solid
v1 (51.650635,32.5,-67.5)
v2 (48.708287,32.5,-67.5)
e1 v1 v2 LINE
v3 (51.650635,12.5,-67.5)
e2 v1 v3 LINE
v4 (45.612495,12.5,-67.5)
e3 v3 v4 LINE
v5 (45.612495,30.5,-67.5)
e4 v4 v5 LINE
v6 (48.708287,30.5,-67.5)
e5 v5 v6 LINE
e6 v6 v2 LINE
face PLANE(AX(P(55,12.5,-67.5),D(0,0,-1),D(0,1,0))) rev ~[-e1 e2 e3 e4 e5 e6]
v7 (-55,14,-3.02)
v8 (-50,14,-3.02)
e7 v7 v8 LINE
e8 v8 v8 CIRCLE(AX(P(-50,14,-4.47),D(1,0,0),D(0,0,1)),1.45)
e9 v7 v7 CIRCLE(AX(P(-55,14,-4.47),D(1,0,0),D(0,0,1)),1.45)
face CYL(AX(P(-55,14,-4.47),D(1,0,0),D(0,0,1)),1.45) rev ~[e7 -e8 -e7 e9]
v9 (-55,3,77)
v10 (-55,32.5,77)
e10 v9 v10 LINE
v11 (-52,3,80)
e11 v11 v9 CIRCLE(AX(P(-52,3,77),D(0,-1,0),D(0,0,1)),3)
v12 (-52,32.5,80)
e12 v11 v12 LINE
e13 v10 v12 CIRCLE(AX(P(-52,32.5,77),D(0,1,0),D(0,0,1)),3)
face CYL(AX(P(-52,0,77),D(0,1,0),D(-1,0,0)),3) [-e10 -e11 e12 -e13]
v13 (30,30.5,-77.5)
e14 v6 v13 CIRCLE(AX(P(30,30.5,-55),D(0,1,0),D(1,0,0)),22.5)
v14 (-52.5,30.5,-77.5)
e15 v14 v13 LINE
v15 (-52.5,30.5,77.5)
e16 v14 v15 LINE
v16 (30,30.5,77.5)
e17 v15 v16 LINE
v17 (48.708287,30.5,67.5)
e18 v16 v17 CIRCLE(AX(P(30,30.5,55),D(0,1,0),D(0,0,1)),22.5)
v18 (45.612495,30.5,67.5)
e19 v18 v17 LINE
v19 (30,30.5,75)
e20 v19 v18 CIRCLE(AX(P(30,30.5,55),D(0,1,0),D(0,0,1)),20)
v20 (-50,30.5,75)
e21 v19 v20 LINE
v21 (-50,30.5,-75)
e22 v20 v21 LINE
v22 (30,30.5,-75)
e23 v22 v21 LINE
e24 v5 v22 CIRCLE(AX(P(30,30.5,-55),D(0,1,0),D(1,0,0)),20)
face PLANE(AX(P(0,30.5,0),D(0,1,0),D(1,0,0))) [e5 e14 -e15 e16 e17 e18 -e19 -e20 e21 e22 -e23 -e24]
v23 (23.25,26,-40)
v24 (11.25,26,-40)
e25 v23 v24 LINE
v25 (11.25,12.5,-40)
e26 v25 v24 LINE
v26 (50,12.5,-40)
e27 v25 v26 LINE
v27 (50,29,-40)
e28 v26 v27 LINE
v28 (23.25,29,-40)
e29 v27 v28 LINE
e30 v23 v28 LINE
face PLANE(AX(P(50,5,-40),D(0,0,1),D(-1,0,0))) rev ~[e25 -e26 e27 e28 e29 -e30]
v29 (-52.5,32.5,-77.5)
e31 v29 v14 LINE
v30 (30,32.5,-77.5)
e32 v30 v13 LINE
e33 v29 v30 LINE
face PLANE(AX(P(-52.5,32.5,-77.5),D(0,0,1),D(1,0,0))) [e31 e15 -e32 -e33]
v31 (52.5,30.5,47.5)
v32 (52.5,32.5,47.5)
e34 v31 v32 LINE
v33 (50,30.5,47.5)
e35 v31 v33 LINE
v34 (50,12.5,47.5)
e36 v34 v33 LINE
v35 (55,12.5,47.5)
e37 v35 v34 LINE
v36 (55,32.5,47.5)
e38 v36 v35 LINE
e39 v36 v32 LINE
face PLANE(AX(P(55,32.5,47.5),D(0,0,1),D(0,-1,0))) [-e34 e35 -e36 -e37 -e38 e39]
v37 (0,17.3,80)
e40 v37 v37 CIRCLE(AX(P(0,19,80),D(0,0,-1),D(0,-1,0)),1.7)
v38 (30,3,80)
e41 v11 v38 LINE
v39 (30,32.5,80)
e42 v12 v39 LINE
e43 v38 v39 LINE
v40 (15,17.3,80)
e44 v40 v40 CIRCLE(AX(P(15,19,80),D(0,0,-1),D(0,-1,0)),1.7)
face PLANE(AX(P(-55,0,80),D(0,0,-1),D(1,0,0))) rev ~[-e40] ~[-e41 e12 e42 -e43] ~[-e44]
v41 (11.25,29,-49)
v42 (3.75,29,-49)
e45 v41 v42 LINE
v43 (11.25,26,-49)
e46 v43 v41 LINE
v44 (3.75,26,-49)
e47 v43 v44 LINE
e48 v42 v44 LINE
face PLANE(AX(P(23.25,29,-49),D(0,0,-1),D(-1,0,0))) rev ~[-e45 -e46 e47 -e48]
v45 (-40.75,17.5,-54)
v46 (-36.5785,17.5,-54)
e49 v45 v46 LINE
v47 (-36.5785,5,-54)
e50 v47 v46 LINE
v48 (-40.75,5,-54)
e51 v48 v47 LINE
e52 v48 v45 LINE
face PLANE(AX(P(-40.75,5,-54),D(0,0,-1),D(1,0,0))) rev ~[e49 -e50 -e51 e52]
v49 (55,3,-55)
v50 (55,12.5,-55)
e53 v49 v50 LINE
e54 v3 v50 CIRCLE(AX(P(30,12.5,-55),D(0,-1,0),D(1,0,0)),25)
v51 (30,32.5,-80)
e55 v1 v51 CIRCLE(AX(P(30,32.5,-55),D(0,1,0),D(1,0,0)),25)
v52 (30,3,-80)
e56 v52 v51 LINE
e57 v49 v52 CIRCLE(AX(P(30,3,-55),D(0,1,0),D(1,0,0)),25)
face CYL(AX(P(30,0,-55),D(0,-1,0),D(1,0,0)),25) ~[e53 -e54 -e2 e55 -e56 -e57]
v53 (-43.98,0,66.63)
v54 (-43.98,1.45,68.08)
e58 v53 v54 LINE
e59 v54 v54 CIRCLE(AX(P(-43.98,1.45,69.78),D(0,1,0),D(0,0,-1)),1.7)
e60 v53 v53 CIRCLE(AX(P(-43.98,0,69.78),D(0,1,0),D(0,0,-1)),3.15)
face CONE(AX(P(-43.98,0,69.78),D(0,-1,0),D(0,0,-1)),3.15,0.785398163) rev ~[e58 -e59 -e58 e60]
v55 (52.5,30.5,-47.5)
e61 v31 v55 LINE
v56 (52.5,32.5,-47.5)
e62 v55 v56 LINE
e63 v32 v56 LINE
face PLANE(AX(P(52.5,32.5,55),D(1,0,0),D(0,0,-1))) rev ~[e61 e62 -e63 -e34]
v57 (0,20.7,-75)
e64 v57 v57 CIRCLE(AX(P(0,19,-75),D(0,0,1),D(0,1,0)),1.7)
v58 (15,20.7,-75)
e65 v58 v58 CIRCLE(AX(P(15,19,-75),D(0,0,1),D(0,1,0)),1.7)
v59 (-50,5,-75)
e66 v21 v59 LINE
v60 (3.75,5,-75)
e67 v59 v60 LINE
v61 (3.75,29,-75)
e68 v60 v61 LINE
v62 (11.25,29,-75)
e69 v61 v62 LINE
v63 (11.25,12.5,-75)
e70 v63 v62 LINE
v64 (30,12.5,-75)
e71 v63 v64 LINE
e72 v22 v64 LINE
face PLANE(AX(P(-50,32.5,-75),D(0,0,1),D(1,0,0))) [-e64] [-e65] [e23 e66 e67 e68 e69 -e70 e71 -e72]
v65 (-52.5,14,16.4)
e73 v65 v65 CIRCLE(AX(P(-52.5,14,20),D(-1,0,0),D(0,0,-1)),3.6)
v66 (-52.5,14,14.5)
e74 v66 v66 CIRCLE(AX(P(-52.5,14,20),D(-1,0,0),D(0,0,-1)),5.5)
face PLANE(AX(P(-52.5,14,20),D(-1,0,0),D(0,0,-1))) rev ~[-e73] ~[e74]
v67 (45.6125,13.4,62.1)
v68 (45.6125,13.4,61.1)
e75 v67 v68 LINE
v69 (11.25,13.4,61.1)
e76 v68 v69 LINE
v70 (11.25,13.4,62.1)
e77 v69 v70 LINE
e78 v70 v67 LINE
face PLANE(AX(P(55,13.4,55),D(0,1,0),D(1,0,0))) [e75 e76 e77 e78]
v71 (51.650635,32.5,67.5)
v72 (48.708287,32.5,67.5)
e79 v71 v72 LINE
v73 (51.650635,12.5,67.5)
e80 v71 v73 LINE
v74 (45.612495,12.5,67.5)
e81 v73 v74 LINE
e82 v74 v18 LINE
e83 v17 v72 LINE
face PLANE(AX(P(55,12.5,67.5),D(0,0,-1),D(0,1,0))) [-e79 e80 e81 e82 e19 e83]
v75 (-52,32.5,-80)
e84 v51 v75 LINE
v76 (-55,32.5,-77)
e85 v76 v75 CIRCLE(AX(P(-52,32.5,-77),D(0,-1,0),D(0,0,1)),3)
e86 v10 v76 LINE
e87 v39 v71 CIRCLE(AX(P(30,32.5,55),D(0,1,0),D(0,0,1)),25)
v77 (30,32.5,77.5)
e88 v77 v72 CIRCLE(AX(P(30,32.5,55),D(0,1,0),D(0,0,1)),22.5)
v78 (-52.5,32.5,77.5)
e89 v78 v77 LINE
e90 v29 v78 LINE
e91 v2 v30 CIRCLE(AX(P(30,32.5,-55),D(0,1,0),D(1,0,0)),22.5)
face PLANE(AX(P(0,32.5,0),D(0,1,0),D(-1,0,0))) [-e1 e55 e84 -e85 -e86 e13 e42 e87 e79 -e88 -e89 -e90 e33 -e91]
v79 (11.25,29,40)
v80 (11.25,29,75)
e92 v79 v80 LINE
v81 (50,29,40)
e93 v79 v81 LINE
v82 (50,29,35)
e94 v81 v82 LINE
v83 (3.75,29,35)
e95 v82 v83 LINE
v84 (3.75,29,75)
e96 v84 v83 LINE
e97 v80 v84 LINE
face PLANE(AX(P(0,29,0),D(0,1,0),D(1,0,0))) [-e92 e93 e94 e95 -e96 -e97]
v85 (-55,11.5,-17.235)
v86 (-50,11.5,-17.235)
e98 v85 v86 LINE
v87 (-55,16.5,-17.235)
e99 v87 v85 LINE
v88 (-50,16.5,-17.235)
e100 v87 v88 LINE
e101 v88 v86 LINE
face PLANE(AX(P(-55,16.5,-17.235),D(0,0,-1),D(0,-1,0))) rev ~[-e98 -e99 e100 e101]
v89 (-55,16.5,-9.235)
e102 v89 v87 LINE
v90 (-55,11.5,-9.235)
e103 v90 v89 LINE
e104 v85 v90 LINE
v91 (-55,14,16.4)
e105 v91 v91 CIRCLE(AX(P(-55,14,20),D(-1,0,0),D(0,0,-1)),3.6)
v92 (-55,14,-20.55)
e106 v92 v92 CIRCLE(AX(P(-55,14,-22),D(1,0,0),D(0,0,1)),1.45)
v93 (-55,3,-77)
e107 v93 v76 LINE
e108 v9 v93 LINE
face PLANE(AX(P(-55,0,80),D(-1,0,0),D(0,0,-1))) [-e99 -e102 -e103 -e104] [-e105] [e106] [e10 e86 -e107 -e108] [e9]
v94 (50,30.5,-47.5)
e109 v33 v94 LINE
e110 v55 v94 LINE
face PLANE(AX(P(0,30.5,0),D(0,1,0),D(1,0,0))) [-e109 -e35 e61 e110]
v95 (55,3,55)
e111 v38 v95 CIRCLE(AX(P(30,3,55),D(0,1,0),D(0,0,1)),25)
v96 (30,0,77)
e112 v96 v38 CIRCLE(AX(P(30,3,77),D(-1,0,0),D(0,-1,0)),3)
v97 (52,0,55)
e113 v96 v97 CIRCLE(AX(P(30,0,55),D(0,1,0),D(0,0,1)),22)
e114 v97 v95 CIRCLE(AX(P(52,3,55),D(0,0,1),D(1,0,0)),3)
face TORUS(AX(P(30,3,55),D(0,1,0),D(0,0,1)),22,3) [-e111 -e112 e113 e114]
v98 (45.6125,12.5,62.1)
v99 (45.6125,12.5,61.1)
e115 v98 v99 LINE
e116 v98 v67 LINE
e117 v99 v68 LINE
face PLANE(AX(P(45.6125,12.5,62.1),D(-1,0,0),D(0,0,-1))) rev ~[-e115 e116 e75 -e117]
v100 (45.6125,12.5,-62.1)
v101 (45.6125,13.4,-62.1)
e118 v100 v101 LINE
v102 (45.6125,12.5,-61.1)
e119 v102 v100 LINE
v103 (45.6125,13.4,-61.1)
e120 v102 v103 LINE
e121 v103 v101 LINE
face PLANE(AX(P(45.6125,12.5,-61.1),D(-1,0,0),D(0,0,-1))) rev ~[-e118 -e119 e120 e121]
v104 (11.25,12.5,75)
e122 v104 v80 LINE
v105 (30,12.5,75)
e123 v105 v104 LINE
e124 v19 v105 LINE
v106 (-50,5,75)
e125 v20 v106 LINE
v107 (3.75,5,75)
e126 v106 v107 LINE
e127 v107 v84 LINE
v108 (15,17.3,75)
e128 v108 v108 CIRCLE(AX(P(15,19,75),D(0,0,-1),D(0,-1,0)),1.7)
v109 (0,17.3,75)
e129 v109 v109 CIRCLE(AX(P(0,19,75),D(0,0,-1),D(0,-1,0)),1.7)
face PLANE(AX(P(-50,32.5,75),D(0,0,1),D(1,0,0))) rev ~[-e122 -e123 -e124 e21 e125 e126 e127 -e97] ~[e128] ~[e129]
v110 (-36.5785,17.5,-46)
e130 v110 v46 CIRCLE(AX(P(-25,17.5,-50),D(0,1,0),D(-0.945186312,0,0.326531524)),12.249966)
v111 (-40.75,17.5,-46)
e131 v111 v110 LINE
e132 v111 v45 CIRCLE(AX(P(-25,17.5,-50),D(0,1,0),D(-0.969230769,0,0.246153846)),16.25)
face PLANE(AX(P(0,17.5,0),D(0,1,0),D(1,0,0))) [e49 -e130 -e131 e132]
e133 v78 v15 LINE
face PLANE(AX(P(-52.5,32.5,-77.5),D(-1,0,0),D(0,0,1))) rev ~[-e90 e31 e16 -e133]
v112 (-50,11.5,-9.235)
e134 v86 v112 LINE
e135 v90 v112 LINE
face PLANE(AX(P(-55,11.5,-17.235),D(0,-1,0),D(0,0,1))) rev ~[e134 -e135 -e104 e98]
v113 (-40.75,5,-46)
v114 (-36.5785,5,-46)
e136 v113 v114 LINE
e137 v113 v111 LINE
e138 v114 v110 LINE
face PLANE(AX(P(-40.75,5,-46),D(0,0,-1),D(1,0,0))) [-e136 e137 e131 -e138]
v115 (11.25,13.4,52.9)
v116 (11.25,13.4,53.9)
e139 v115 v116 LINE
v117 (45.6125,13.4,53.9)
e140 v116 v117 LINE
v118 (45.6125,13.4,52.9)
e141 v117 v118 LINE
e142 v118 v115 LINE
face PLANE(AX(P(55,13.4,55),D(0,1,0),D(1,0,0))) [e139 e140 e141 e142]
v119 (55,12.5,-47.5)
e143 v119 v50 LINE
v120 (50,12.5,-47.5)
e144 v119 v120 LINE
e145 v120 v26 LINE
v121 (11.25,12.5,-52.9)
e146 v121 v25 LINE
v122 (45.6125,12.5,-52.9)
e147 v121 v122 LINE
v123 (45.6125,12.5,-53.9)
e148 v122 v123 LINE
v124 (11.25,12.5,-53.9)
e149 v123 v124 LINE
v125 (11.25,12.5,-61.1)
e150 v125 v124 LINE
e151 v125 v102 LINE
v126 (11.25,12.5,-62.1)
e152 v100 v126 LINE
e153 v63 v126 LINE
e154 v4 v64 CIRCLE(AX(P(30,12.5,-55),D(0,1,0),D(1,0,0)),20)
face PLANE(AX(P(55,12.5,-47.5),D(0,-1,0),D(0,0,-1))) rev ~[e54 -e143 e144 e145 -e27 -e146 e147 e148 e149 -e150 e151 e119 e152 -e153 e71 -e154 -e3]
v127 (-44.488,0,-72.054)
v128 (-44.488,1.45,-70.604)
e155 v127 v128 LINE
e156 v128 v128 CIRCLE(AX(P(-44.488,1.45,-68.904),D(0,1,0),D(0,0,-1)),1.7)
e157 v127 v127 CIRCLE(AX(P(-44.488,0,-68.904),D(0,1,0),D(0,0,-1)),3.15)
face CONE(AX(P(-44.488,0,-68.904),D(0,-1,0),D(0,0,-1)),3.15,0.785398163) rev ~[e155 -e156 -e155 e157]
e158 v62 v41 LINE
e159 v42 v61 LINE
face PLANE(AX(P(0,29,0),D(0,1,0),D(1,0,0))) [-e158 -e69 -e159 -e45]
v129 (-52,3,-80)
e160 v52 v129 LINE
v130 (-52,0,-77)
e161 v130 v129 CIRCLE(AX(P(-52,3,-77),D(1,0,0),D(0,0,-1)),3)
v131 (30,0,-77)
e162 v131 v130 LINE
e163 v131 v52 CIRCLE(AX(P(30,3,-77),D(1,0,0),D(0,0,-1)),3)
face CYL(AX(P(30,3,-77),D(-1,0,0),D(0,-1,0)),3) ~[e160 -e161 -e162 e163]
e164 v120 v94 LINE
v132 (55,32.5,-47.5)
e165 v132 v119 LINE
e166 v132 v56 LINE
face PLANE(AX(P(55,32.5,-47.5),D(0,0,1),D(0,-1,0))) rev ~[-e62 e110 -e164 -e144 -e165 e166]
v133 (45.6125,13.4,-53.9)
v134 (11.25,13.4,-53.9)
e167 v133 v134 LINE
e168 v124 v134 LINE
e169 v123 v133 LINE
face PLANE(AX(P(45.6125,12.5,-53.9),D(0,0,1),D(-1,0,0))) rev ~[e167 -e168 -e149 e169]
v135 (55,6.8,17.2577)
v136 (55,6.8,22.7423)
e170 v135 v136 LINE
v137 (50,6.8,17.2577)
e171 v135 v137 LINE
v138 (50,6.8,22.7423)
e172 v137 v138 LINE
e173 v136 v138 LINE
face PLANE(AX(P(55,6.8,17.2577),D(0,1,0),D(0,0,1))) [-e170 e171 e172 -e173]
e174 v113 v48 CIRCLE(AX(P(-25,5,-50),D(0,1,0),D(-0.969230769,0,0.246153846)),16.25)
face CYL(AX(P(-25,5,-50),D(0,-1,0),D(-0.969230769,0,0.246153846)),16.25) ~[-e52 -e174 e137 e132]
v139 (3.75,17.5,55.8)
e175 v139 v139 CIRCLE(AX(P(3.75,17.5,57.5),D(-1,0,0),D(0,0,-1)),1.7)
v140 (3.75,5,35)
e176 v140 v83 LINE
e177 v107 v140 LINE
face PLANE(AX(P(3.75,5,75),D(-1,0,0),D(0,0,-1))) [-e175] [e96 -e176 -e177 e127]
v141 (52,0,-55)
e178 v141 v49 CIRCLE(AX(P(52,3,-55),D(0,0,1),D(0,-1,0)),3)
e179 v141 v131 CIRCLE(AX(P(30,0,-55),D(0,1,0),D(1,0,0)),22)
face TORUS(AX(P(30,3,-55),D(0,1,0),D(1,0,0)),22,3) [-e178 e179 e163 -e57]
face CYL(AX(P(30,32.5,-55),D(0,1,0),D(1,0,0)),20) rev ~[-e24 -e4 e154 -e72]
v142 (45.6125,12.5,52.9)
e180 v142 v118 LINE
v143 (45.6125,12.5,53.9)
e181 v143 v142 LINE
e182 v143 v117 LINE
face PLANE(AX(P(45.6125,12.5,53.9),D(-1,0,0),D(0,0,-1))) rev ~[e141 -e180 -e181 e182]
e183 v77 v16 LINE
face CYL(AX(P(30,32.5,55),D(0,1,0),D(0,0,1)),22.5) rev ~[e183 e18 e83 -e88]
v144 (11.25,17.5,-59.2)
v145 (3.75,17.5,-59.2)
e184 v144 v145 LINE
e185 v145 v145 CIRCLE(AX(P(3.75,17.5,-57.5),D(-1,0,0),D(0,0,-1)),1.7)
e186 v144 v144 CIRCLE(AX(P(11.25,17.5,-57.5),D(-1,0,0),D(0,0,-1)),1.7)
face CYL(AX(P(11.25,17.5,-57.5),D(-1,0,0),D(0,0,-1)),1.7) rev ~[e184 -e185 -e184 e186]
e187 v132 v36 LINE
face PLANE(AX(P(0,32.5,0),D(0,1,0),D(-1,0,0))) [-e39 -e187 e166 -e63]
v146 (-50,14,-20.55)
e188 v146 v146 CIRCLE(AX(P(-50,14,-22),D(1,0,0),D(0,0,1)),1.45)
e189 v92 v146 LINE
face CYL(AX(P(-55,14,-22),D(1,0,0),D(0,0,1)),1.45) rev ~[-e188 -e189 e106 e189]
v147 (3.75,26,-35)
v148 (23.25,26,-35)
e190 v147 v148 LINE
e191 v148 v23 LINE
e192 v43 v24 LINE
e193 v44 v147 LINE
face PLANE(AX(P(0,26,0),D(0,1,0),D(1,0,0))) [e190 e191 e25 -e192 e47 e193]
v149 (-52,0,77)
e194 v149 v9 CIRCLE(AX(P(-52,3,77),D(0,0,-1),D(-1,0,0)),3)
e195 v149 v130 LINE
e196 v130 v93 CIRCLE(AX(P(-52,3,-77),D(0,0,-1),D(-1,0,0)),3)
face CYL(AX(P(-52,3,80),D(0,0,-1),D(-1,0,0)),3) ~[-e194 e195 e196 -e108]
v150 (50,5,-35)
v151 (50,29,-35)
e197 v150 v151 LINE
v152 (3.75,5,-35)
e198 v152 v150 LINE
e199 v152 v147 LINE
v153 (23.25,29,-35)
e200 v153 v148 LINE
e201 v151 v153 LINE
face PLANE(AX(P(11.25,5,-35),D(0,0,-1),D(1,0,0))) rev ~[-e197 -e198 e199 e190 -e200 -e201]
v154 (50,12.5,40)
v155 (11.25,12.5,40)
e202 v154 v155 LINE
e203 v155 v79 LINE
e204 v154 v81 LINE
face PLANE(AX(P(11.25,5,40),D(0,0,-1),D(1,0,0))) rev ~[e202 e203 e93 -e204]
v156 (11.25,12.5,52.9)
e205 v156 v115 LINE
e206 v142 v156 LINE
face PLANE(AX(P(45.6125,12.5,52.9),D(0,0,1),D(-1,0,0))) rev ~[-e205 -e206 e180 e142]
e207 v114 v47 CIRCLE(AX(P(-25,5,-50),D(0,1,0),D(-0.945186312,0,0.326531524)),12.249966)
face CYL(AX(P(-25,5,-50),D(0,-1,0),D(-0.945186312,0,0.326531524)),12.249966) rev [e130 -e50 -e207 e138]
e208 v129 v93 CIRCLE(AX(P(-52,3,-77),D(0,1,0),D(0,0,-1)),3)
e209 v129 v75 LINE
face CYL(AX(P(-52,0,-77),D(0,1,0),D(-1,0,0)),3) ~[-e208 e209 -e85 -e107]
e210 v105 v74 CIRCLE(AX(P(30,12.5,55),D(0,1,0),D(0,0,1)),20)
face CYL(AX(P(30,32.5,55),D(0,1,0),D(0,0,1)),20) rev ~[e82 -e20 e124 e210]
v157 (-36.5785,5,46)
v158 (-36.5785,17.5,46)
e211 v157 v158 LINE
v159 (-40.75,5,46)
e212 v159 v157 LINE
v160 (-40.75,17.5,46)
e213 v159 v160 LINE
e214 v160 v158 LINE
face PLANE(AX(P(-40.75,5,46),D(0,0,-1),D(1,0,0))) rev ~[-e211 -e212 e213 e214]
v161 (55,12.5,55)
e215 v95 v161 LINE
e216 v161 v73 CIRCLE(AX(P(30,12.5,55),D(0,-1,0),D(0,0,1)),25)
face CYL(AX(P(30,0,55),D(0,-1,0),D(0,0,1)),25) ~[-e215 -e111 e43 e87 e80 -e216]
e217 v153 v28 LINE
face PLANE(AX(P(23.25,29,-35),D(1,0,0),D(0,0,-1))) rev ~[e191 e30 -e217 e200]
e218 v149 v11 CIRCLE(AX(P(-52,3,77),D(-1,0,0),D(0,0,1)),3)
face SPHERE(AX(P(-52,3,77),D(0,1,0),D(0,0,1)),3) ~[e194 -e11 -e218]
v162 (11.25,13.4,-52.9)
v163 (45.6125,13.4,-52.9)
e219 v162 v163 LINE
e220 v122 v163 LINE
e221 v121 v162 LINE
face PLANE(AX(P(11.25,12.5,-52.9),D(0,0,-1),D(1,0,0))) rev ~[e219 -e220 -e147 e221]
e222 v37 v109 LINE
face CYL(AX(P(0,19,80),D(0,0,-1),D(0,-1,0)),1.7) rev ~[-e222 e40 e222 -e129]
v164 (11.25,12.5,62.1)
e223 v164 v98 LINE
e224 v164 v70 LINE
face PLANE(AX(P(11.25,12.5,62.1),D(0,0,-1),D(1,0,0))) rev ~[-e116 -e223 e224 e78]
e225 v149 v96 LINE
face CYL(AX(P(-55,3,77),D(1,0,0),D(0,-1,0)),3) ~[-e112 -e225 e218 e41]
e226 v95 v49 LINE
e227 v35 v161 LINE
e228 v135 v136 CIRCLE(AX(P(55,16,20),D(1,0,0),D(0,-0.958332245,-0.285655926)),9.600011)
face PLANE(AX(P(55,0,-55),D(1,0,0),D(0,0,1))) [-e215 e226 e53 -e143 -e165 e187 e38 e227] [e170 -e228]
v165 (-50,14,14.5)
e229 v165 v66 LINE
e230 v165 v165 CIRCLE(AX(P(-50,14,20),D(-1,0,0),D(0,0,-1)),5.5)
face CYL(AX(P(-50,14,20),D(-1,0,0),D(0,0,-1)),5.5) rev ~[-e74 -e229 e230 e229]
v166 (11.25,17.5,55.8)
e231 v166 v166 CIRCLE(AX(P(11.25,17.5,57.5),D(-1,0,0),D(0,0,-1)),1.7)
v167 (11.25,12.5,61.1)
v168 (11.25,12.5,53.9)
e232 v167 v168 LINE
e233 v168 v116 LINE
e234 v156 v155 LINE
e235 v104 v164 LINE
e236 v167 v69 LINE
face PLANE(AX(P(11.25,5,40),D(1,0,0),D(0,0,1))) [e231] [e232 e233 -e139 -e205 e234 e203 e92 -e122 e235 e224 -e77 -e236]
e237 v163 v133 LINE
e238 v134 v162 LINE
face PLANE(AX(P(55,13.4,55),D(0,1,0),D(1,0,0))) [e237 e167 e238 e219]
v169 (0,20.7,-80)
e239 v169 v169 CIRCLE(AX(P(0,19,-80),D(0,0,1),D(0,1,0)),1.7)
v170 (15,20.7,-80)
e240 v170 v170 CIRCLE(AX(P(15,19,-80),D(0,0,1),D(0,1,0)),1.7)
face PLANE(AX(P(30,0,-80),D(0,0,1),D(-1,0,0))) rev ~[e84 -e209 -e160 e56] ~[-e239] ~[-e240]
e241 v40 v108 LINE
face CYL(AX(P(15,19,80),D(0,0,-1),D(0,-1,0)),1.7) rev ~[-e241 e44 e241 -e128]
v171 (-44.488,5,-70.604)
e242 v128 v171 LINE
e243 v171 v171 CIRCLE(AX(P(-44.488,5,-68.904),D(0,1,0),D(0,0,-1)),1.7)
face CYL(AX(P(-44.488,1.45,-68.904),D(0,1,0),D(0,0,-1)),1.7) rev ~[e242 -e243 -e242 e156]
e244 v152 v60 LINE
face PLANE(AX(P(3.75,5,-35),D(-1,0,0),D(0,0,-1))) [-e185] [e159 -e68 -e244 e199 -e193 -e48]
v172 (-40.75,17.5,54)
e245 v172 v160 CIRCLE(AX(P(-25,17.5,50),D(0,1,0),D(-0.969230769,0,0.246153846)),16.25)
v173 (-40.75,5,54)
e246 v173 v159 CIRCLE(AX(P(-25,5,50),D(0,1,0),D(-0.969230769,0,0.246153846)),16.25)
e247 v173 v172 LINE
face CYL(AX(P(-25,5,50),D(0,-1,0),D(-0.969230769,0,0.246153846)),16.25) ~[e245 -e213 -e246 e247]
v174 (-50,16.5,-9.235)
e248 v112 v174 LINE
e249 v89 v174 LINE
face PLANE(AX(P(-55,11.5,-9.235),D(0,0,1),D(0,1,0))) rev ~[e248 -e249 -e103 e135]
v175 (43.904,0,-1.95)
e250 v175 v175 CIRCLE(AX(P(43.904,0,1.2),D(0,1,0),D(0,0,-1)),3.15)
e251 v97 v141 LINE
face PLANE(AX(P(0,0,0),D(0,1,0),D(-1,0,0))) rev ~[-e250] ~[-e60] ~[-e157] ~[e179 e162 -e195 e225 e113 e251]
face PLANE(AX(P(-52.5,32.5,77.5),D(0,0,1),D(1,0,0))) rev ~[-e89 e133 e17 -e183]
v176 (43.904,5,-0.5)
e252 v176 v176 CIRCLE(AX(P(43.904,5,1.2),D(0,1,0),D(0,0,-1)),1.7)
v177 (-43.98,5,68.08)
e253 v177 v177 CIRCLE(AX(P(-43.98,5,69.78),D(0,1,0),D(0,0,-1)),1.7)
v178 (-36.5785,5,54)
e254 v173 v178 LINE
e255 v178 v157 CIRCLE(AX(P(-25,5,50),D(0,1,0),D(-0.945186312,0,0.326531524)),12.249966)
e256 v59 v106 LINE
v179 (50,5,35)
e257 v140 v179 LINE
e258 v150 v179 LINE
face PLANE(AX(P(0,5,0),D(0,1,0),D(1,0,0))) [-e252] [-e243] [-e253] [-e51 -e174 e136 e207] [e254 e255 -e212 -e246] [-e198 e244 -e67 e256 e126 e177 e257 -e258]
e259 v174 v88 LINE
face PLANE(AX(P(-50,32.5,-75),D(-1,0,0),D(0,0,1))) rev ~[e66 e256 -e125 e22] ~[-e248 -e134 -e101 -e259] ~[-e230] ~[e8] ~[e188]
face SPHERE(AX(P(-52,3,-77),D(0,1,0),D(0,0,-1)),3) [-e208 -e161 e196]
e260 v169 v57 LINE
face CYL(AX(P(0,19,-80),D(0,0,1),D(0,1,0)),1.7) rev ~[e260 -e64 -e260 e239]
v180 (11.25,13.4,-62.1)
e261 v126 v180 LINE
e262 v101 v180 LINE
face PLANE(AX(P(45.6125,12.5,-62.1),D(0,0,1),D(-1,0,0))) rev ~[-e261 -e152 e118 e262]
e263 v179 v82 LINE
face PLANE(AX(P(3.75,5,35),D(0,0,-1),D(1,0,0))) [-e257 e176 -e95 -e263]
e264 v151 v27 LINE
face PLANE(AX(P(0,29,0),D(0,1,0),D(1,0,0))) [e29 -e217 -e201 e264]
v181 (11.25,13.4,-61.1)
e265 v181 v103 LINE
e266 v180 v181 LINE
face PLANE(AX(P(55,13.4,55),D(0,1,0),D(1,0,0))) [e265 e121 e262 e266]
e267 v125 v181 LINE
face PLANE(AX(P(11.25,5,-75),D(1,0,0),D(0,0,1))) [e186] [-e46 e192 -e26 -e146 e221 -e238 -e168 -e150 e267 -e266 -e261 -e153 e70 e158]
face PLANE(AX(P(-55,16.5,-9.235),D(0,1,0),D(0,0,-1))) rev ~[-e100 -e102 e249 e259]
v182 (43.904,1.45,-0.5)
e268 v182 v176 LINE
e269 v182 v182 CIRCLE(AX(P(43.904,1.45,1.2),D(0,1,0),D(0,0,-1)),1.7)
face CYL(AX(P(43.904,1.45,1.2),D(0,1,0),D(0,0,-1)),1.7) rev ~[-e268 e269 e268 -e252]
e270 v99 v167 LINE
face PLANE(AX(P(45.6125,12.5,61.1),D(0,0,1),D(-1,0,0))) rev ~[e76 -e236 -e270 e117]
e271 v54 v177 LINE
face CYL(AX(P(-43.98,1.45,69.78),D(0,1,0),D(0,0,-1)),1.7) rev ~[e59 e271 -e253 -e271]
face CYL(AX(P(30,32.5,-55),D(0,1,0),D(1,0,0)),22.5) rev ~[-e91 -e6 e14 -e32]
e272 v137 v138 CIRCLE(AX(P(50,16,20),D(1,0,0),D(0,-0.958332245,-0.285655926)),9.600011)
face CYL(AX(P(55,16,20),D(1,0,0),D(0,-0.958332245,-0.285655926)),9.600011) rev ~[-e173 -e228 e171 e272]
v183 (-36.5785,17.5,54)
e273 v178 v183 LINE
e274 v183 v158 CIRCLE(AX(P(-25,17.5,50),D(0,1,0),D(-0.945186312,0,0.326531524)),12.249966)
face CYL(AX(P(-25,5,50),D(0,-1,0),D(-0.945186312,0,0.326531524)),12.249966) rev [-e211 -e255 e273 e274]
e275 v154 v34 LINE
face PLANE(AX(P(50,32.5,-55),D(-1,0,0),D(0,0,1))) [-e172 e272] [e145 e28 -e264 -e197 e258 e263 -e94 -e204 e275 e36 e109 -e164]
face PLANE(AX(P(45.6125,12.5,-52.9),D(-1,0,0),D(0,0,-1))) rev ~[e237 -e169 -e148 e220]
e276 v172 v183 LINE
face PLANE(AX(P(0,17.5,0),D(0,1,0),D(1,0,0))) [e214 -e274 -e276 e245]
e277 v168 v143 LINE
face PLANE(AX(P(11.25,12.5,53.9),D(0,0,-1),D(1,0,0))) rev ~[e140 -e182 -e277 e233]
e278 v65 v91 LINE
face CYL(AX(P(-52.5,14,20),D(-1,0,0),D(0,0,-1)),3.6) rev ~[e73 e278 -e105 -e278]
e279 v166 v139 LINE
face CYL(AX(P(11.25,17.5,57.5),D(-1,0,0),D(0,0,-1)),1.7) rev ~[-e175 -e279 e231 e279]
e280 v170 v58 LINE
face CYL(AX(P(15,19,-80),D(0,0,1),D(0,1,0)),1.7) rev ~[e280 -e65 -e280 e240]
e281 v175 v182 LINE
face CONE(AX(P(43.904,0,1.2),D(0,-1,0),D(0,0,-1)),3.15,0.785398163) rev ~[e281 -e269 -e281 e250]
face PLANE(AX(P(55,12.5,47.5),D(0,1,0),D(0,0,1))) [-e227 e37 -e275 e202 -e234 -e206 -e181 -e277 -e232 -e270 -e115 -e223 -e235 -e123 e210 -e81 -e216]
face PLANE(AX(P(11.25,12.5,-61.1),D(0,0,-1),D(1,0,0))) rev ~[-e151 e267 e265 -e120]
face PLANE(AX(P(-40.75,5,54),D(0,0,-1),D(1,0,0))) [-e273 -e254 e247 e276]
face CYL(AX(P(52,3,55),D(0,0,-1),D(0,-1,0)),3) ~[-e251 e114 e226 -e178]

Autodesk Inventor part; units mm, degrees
ref_plane "YZ Plane" through (0, 0, 0) normal (1, 0, 0) x (0, 1, 0)
ref_plane "XZ Plane" through (0, 0, 0) normal (0, 1, 0) x (-1, 0, 0)
ref_plane "XY Plane" through (0, 0, 0) normal (0, 0, 1) x (1, 0, 0)
sketch "Esquisse1" plane through (0, 0, 0) normal (0, 1, 0) x (-1, 0, 0)
  line L0 (55, 80) -> (55, -80)
  line L1 (-55, -80) -> (-55, 80)
  line L2 (-55, 80) -> (55, -80) construction
  line L3 (55, 80) -> (-55, -80) construction
  line L4 (0, 0) -> (-55, 0) construction
  arc A0 (-55, -55) -> (-30, -80) centre (-30, -55) ccw
  line L5 (-30, -80) -> (55, -80)
  line L6 (-30, -80) -> (-30, -55) construction
  line L7 (55, 80) -> (-30, 80)
  arc A1 (-30, 80) -> (-55, 55) centre (-30, 55) ccw
  line L8 (-30, 55) -> (-30, 80) construction
  dimension "d0" = 160
  dimension "d1" = 110
  dimension "d126" = 25
  dimension "d127" = 25
extrude "Extrusion1" add sketch "Esquisse1" along normal blind 32.5
sketch "Esquisse2" plane through (0, 32.5, 0) normal (0, 1, 0) x (1, 0, 0)
  line L0 (-50, 75) -> (-50, -75)
  line L1 (-55, 80) -> (-55, -80) projected
  line L2 (30, 80) -> (-55, 80) projected
  line L3 (-50, -75) -> (30, -75)
  line L4 (30, -75) -> (30, -80) construction
  line L5 (-55, -80) -> (30, -80) construction
  line L6 (-50, 75) -> (30, 75)
  line L7 (30, 75) -> (30, 80) construction
  arc A0 (50, 55) -> (30, 75) centre (30, 55) ccw
  line L8 (30, 75) -> (30, 55) construction
  arc A1 (55, 55) -> (30, 80) centre (30, 55) ccw construction
  line L9 (50, 55) -> (50, -55)
  line L10 (55, 55) -> (50, 55) construction
  line L11 (50, -55) -> (55, -55) construction
  arc A2 (30, -75) -> (50, -55) centre (30, -55) ccw
  line L12 (55, -55) -> (55, 55) construction
  point P0 (0, 0)
  dimension "d67" = 5
  dimension "d131" = 5
extrude "Extrusion2" cut sketch "Esquisse2" against normal blind 27.5
sketch "Esquisse6" plane through (0, 5, 0) normal (0, 1, 0) x (1, 0, 0)
  line L0 (50, 40) -> (11.25, 40)
  line L1 (11.25, 40) -> (11.25, 35)
  line L2 (11.25, 35) -> (50, 35)
  line L3 (50, 35) -> (50, 40)
  line L4 (11.25, 35) -> (3.75, 35)
  line L5 (3.75, 35) -> (3.75, 75)
  line L6 (3.75, 75) -> (11.25, 75)
  line L7 (11.25, 75) -> (11.25, 35)
  line L8 (11.25, -75) -> (3.75, -75)
  line L9 (3.75, -75) -> (3.75, -35)
  line L10 (3.75, -35) -> (11.25, -35)
  line L11 (11.25, -35) -> (11.25, -75)
  line L12 (50, -35) -> (11.25, -35)
  line L13 (11.25, -35) -> (11.25, -40)
  line L14 (11.25, -40) -> (50, -40)
  line L15 (50, -40) -> (50, -35)
  line L16 (11.25, -75) -> (80.7095, -75) construction
  line L17 (50, -40) -> (50, -93.5027) construction
  line L18 (30, -75) -> (-50, -75) construction
  line L19 (50, 55) -> (50, -55) construction
  line L20 (-50, 75) -> (30, 75) construction
  point P0 (0, 0)
  point P1 (7.5, -35)
  dimension "d44" = 5
  dimension "d45" = 7.5
  dimension "d48" = 5
  dimension "d50" = 7.5
  dimension "d132" = 35
  dimension "d133" = 38.75
  dimension "d134" = 38.75
  dimension "d135" = 35
extrude "Extrusion4" add sketch "Esquisse6" along normal blind 24
sketch "Esquisse11" plane through (55, 0, 55) normal (1, 0, 0) x (0, 0, -1)
  line L0 (-12.5, 32.5) -> (7.5, 32.5)
  line L1 (7.5, 32.5) -> (7.5, 12.5)
  line L2 (7.5, 12.5) -> (-12.5, 12.5)
  line L3 (-12.5, 12.5) -> (-12.5, 32.5)
  line L4 (122.5, 32.5) -> (102.5, 32.5)
  line L5 (102.5, 32.5) -> (102.5, 12.5)
  line L6 (102.5, 12.5) -> (122.5, 12.5)
  line L7 (122.5, 12.5) -> (122.5, 32.5)
  line L8 (0, 0) -> (110, 0) projected
  line L9 (0, 32.5) -> (110, 32.5) projected
  line L10 (135, 0) -> (110, 0) projected
  line L11 (135, 32.5) -> (110, 32.5) projected
  line L12 (-25, 0) -> (-25, 32.5) projected
  line L13 (135, 0) -> (135, 32.5) projected
  line L14 (71.6904, 12.5) -> (52.7334, 12.5) construction
  dimension "d138" = 20
  dimension "d139" = 20
  dimension "d140" = 12.5
  dimension "d141" = 12.5
  dimension "d154" = 12.5
extrude "Extrusion6" cut sketch "Esquisse11" against normal blind 20
sketch "Esquisse16" plane through (11.25, 5, 75) normal (1, 0, 0) x (0, 0, -1)
  line L0 (17.5, 12.5) -> (7.5, 12.5) construction
  line L1 (17.5, 12.5) -> (27.5, 12.5) construction
  line L2 (130, 0) -> (122.5, 0) construction
  line L3 (7.5, 7.5) -> (7.5, 27.5) projected
  line L4 (27.5, 27.5) -> (27.5, 7.5) projected
  line L5 (7.5, 6) -> (20, 6) projected
  line L6 (27.5, 7.5) -> (20, 7.5) projected
  point P0 (75, -5)
  point P1 (130, 6)
  point P2 (122.5, 6)
  point P3 (27.5, 6)
  point P4 (27.5, -5)
  dimension "d174" = 5
hole "Perçage6" at (11.25, 17.5, 57.5) direction (-1, 0, 0) diameter 3.4 depth 10
sketch "Esquisse17" plane through (11.25, 5, -40) normal (1, 0, 0) x (0, 0, -1)
  line L0 (27.5, 27.5) -> (27.5, 7.5) projected
  line L1 (7.5, 7.5) -> (7.5, 27.5) projected
  line L2 (5.8848, 12.5) -> (-4.3187, 12.5) construction
  line L3 (15, 7.5) -> (15, 7.5) projected
  line L4 (17.5, 12.5) -> (7.5, 12.5) construction
  line L5 (17.5, 12.5) -> (27.5, 12.5) construction
  point P0 (-40, -5)
  point P1 (7.5, 6)
  point P2 (-87.5, 6)
  point P3 (27.5, -5)
  point P4 (7.5, -5)
  dimension "d155" = 5
hole "Perçage7" at (11.25, 17.5, -57.5) direction (-1, 0, 0) diameter 3.4 depth 10
sketch "Esquisse20" plane through (0, 32.5, 0) normal (0, 1, 0) x (1, 0, 0)
  line L0 (-52.5, 77.5) -> (-52.5, -77.5)
  line L1 (-52.5, -77.5) -> (30, -77.5)
  arc A0 (30, -77.5) -> (52.5, -55) centre (30, -55) ccw
  line L2 (52.5, -55) -> (52.5, 55)
  arc A1 (52.5, 55) -> (30, 77.5) centre (30, 55) ccw
  line L3 (-52.5, 77.5) -> (30, 77.5)
  line L4 (30, 80) -> (30, 75) construction
  arc A2 (45.6125, 67.5) -> (30, 75) centre (30, 55) ccw construction
  line L5 (30, -80) -> (30, -75) construction
  arc A3 (30, -80) -> (51.6506, -67.5) centre (30, -55) ccw construction
  arc A4 (51.6506, 67.5) -> (30, 80) centre (30, 55) ccw construction
  line L6 (-50, 0) -> (-55, 0) construction
  line L7 (-55, 0) -> (-50, 0) construction
  line L8 (-50, -75) -> (-50, 75) construction
  line L9 (-55, 80) -> (-55, -80) construction
  line L10 (30, 75) -> (-50, 75)
  line L11 (-50, -75) -> (30, -75)
  arc A5 (50, 55) -> (30, 75) centre (30, 55) ccw
  arc A6 (30, -75) -> (50, -55) centre (30, -55) ccw
  line L12 (50, -55) -> (50, 55)
  point P0 (0, 0)
  point P1 (-52.5, 0)
extrude "Extrusion12" cut sketch "Esquisse20" against normal blind 2
sketch "Esquisse22" plane through (0, 5, 0) normal (0, 1, 0) x (1, 0, 0)
  line L0 (11.25, -75) -> (11.25, -40) projected
  line L1 (11.25, -40) -> (11.25, -75) projected
  line L2 (30, -75) -> (11.25, -75) projected
  arc A0 (30, -75) -> (50, -55) centre (30, -55) ccw projected
  line L3 (50, -40) -> (50, -55) projected
  line L4 (50, -40) -> (11.25, -40) projected
  line L5 (11.25, 75) -> (11.25, 40) projected
  line L6 (11.25, 40) -> (50, 40) projected
  line L7 (50, 55) -> (50, 40) projected
  arc A1 (50, 55) -> (30, 75) centre (30, 55) ccw projected
  line L8 (11.25, 75) -> (30, 75) projected
  point P0 (0, 0)
extrude "Extrusion14" add sketch "Esquisse22" along normal blind 7.5
sketch "Esquisse24" plane through (55, 12.5, 55) normal (0, 1, 0) x (1, 0, 0)
  line L0 (-9.3875, -7.5596) -> (-9.3875, 12.2233) construction
  line L1 (-43.75, -7.1) -> (-9.3875, -7.1)
  line L2 (-9.3875, -7.1) -> (-9.3875, -6.1)
  line L3 (-9.3875, -6.1) -> (-43.75, -6.1)
  line L4 (-43.75, -6.1) -> (-43.75, -7.1)
  line L5 (-43.75, 1.1) -> (-9.3875, 1.1)
  line L6 (-9.3875, 1.1) -> (-9.3875, 2.1)
  line L7 (-9.3875, 2.1) -> (-43.75, 2.1)
  line L8 (-43.75, 2.1) -> (-43.75, 1.1)
  line L9 (-43.75, -20) -> (-43.75, 15) construction
  line L10 (-43.75, 15) -> (-5, 15) projected
  line L11 (-43.75, 107.9) -> (-9.3875, 107.9)
  line L12 (-9.3875, 107.9) -> (-9.3875, 108.9)
  line L13 (-9.3875, 108.9) -> (-43.75, 108.9)
  line L14 (-43.75, 108.9) -> (-43.75, 107.9)
  line L15 (-43.75, 116.1) -> (-9.3875, 116.1)
  line L16 (-9.3875, 116.1) -> (-9.3875, 117.1)
  line L17 (-9.3875, 117.1) -> (-43.75, 117.1)
  line L18 (-43.75, 117.1) -> (-43.75, 116.1)
  line L19 (-5, 95) -> (-43.75, 95) projected
  line L20 (-43.75, 95) -> (-43.75, 130) projected
  point P0 (-9.3875, -12.5)
  point P1 (-43.75, 1.6)
  point P2 (-43.75, -6.6)
  point P3 (-9.3875, 1.6)
  point P4 (-9.3875, -6.6)
  point P5 (-9.3875, 108.4)
  point P6 (-9.3875, 116.6)
  point P7 (-43.75, 108.4)
  dimension "d160" = 1
  dimension "d161" = 1
  dimension "d162" = 7.2
  dimension "d163" = 12.9
  dimension "d164" = 1
  dimension "d165" = 1
  dimension "d166" = 7.2
  dimension "d167" = 12.9
extrude "Extrusion15" add sketch "Esquisse24" along normal blind 0.9
sketch "Esquisse25" plane through (0, 29, 0) normal (0, 1, 0) x (1, 0, 0)
  line L0 (3.75, 35) -> (23.25, 35)
  line L1 (23.25, 35) -> (23.25, 49)
  line L2 (23.25, 49) -> (3.75, 49)
  line L3 (3.75, 49) -> (3.75, 35)
  line L4 (3.75, 75) -> (3.75, 35) construction
  line L5 (3.75, 35) -> (50, 35) construction
  point P0 (0, 0)
  dimension "d170" = 14
  dimension "d171" = 19.5
extrude "Extrusion16" cut sketch "Esquisse25" against normal blind 3
sketch "Esquisse26" plane through (0, 0, 0) normal (0, -1, 0) x (1, 0, 0)
  line L0 (50, 47.5) -> (50, -47.5) projected
  line L1 (30, -75) -> (-50, -75) projected
  point P0 (0, 0)
  point P1 (43.904, 1.2)
  dimension "d196" = 6.096
  dimension "d197" = 76.2
hole "Perçage8" at (43.904, 0, 1.2) direction (0, 1, 0) diameter 3.4 end through all countersink diameter 6.3 countersink angle 90
sketch "Esquisse27" plane through (0, 0, 0) normal (0, -1, 0) x (1, 0, 0)
  line L0 (-50, -75) -> (3.75, -75) projected
  line L1 (50, -35) -> (50, 35) projected
  point P0 (0, 0)
  point P1 (-43.98, 69.78)
  dimension "d198" = 144.78
  dimension "d199" = 93.98
hole "Perçage9" at (-43.98, 0, 69.78) direction (0, 1, 0) diameter 3.4 end through all countersink diameter 6.3 countersink angle 90
sketch "Esquisse28" plane through (0, 0, 0) normal (0, -1, 0) x (1, 0, 0)
  line L0 (-50, -75) -> (3.75, -75) projected
  line L1 (-50, 75) -> (-50, -75) projected
  line L2 (55, 55) -> (55, -55) projected
  line L3 (50, 47.5) -> (50, -47.5) projected
  point P0 (0, 0)
  point P1 (-44.488, -68.904)
  dimension "d200" = 6.096
  dimension "d203" = 94.488
hole "Perçage10" at (-44.488, 0, -68.904) direction (0, 1, 0) diameter 3.4 end through all countersink diameter 6.3 countersink angle 90
sketch "Esquisse29" plane through (-55, 0, -80) normal (-1, 0, 0) x (0, 0, 1)
  line L0 (0, 0) -> (0, 32.5) projected
  line L1 (0, 0) -> (160, 0) projected
  point P0 (80, 0)
  point P1 (58, 14)
  dimension "d211" = 58
  dimension "d212" = 14
hole "Perçage11" at (-55, 14, -22) direction (1, 0, 0) diameter 2.9 depth 5
pattern_linear "Réseau rectangulaire1" count 2 spacing 17.53 along (0, 0, 1) of "Perçage11"
sketch "Esquisse30" plane through (-55, 0, -80) normal (-1, 0, 0) x (0, 0, 1)
  line L0 (62.765, 11.5) -> (70.765, 11.5)
  line L1 (70.765, 11.5) -> (70.765, 16.5)
  line L2 (70.765, 16.5) -> (62.765, 16.5)
  line L3 (62.765, 16.5) -> (62.765, 11.5)
  circle A0 centre (75.53, 14) radius 1.45 projected
  circle A1 centre (58, 14) radius 1.45 projected
  line L4 (42.6122, -10.7376) -> (49.1431, -10.7376)
  line L5 (62.765, 11.5) -> (70.765, 16.5) construction
  line L6 (70.765, 11.5) -> (62.765, 16.5) construction
  line L7 (66.765, 14) -> (58, 14) construction
  line L8 (66.765, 14) -> (75.53, 14) construction
  point P0 (80, 0)
  dimension "d216" = 8
  dimension "d217" = 5
extrude "Extrusion17" cut sketch "Esquisse30" against normal blind 10 contours L3 L2 L1 L0
sketch "Esquisse32" plane through (-50, 5, 75) normal (1, 0, 0) x (0, 0, -1)
  line L0 (155, -5) -> (-5, -5) projected
  line L1 (-5, -5) -> (-5, 27.5) projected
  point P0 (75, -5)
  point P1 (55, 9)
  dimension "d235" = 14
  dimension "d236" = 60
hole "Perçage13" at (-50, 14, 20) direction (-1, 0, 0) diameter 7.2 end through all counterbore diameter 11 counterbore depth 2.5
sketch "Esquisse33" plane through (55, 0, 55) normal (1, 0, 0) x (0, 0, -1)
  arc A0 (37.7423, 6.8) -> (32.2577, 6.8) centre (35, 16) ccw
  line L0 (135, 0) -> (135, 32.5) projected
  line L1 (-25, 0) -> (-25, 32.5) projected
  line L2 (122.204, 5) -> (125.604, 5) projected
  line L3 (-16.48, 5) -> (-13.08, 5) projected
  line L4 (52.1, 5) -> (55.5, 5) construction
  line L5 (-20, 5) -> (20, 5) construction
  line L6 (90, 5) -> (20, 5) construction
  line L7 (90, 5) -> (130, 5) construction
  line L8 (-20, 5) -> (130, 5) construction
  line L9 (7.5, 32.5) -> (102.5, 32.5) projected
  line L10 (37.7423, 6.8) -> (32.2577, 6.8)
  line L11 (0, 0) -> (110, 0) projected
  point P0 (55, 0)
  dimension "d239" = 9.6
  dimension "d242" = 100
  dimension "d277" = 9.2
  dimension "d279" = 16
extrude "Extrusion18" cut sketch "Esquisse33" against normal up to next
sketch "Esquisse34" plane through (0, 5, 0) normal (0, 1, 0) x (1, 0, 0)
  arc A0 (-36.5785, -54) -> (-36.5785, -46) centre (-25, -50) ccw
  arc A1 (-40.75, -54) -> (-40.75, -46) centre (-25, -50) ccw
  line L0 (-40.75, -46) -> (-36.5785, -46)
  line L1 (-40.75, -54) -> (-36.5785, -54)
  line L2 (-36.5785, -36.3891) -> (-36.5785, -60.826) construction
  arc A2 (-36.5785, 46) -> (-36.5785, 54) centre (-25, 50) ccw
  arc A3 (-40.75, 46) -> (-40.75, 54) centre (-25, 50) ccw
  line L3 (-40.75, 54) -> (-36.5785, 54)
  line L4 (-40.75, 46) -> (-36.5785, 46)
  line L5 (-36.5785, 54.2054) -> (-36.5785, 29.7686) construction
  line L6 (-25, 118.9857) -> (-25, 88.2412) construction
  line L7 (-55, 80) -> (-55, -80) projected
  line L8 (-77, 0) -> (77, 0) construction
  line L9 (-25, 50) -> (-25, 0) construction
  line L10 (-25, 0) -> (-25, -50) construction
  point P0 (0, 0)
  dimension "d243" = 4
  dimension "d244" = 12.25
  dimension "d245" = 8
  dimension "d246" = 4
  dimension "d247" = 12.25
  dimension "d248" = 8
  dimension "d249" = 30
  dimension "d250" = 50
extrude "Extrusion19" add sketch "Esquisse34" along normal blind 12.5
sketch "Esquisse35" plane through (30, 0, -80) normal (0, 0, -1) x (-1, 0, 0)
  line L0 (0, 0) -> (85, 0) projected
  line L1 (85, 0) -> (85, 32.5) projected
  point P0 (30, 0)
  point P1 (15, 19)
  dimension "d263" = 19
  dimension "d264" = 70
hole "Perçage14" at (15, 19, -80) direction (0, 0, 1) diameter 3.4 depth 5
pattern_linear "Réseau rectangulaire2" count 2 spacing 15 along (-1, 0, 0) of "Perçage14"
sketch "Esquisse36" plane through (-55, 0, 80) normal (0, 0, 1) x (1, 0, 0)
  line L0 (0, 0) -> (85, 0) projected
  line L1 (0, 0) -> (0, 32.5) projected
  point P0 (55, 0)
  point P1 (70, 19)
  dimension "d275" = 19
  dimension "d276" = 70
hole "Perçage15" at (15, 19, 80) direction (0, 0, -1) diameter 3.4 depth 5
pattern_linear "Réseau rectangulaire3" count 2 spacing 15 along (-1, 0, 0) of "Perçage15"
fillet "Congé3" radius 3 8 edges at (-55, 16.25, -80) (-55, 16.25, 80) (47.6777, 0, 72.6777) (55, 0, 0) (47.6777, 0, -72.6777) (-12.5, 0, -80) (-12.5, 0, 80) (-55, 0, 0)
equation "\"d67\" = d66"
equation "\"d131\" = d67"
equation "\"d45\" = 1.5 * d44"
equation "\"d48\" = d44"
equation "\"d50\" = d45"
equation "\"d134\" = d133"
equation "\"d135\" = d132"
equation "\"d139\" = d138"
equation "\"d141\" = d140"
equation "\"d66\" = 5"
properties part number "P1794_001" material "PLA"
